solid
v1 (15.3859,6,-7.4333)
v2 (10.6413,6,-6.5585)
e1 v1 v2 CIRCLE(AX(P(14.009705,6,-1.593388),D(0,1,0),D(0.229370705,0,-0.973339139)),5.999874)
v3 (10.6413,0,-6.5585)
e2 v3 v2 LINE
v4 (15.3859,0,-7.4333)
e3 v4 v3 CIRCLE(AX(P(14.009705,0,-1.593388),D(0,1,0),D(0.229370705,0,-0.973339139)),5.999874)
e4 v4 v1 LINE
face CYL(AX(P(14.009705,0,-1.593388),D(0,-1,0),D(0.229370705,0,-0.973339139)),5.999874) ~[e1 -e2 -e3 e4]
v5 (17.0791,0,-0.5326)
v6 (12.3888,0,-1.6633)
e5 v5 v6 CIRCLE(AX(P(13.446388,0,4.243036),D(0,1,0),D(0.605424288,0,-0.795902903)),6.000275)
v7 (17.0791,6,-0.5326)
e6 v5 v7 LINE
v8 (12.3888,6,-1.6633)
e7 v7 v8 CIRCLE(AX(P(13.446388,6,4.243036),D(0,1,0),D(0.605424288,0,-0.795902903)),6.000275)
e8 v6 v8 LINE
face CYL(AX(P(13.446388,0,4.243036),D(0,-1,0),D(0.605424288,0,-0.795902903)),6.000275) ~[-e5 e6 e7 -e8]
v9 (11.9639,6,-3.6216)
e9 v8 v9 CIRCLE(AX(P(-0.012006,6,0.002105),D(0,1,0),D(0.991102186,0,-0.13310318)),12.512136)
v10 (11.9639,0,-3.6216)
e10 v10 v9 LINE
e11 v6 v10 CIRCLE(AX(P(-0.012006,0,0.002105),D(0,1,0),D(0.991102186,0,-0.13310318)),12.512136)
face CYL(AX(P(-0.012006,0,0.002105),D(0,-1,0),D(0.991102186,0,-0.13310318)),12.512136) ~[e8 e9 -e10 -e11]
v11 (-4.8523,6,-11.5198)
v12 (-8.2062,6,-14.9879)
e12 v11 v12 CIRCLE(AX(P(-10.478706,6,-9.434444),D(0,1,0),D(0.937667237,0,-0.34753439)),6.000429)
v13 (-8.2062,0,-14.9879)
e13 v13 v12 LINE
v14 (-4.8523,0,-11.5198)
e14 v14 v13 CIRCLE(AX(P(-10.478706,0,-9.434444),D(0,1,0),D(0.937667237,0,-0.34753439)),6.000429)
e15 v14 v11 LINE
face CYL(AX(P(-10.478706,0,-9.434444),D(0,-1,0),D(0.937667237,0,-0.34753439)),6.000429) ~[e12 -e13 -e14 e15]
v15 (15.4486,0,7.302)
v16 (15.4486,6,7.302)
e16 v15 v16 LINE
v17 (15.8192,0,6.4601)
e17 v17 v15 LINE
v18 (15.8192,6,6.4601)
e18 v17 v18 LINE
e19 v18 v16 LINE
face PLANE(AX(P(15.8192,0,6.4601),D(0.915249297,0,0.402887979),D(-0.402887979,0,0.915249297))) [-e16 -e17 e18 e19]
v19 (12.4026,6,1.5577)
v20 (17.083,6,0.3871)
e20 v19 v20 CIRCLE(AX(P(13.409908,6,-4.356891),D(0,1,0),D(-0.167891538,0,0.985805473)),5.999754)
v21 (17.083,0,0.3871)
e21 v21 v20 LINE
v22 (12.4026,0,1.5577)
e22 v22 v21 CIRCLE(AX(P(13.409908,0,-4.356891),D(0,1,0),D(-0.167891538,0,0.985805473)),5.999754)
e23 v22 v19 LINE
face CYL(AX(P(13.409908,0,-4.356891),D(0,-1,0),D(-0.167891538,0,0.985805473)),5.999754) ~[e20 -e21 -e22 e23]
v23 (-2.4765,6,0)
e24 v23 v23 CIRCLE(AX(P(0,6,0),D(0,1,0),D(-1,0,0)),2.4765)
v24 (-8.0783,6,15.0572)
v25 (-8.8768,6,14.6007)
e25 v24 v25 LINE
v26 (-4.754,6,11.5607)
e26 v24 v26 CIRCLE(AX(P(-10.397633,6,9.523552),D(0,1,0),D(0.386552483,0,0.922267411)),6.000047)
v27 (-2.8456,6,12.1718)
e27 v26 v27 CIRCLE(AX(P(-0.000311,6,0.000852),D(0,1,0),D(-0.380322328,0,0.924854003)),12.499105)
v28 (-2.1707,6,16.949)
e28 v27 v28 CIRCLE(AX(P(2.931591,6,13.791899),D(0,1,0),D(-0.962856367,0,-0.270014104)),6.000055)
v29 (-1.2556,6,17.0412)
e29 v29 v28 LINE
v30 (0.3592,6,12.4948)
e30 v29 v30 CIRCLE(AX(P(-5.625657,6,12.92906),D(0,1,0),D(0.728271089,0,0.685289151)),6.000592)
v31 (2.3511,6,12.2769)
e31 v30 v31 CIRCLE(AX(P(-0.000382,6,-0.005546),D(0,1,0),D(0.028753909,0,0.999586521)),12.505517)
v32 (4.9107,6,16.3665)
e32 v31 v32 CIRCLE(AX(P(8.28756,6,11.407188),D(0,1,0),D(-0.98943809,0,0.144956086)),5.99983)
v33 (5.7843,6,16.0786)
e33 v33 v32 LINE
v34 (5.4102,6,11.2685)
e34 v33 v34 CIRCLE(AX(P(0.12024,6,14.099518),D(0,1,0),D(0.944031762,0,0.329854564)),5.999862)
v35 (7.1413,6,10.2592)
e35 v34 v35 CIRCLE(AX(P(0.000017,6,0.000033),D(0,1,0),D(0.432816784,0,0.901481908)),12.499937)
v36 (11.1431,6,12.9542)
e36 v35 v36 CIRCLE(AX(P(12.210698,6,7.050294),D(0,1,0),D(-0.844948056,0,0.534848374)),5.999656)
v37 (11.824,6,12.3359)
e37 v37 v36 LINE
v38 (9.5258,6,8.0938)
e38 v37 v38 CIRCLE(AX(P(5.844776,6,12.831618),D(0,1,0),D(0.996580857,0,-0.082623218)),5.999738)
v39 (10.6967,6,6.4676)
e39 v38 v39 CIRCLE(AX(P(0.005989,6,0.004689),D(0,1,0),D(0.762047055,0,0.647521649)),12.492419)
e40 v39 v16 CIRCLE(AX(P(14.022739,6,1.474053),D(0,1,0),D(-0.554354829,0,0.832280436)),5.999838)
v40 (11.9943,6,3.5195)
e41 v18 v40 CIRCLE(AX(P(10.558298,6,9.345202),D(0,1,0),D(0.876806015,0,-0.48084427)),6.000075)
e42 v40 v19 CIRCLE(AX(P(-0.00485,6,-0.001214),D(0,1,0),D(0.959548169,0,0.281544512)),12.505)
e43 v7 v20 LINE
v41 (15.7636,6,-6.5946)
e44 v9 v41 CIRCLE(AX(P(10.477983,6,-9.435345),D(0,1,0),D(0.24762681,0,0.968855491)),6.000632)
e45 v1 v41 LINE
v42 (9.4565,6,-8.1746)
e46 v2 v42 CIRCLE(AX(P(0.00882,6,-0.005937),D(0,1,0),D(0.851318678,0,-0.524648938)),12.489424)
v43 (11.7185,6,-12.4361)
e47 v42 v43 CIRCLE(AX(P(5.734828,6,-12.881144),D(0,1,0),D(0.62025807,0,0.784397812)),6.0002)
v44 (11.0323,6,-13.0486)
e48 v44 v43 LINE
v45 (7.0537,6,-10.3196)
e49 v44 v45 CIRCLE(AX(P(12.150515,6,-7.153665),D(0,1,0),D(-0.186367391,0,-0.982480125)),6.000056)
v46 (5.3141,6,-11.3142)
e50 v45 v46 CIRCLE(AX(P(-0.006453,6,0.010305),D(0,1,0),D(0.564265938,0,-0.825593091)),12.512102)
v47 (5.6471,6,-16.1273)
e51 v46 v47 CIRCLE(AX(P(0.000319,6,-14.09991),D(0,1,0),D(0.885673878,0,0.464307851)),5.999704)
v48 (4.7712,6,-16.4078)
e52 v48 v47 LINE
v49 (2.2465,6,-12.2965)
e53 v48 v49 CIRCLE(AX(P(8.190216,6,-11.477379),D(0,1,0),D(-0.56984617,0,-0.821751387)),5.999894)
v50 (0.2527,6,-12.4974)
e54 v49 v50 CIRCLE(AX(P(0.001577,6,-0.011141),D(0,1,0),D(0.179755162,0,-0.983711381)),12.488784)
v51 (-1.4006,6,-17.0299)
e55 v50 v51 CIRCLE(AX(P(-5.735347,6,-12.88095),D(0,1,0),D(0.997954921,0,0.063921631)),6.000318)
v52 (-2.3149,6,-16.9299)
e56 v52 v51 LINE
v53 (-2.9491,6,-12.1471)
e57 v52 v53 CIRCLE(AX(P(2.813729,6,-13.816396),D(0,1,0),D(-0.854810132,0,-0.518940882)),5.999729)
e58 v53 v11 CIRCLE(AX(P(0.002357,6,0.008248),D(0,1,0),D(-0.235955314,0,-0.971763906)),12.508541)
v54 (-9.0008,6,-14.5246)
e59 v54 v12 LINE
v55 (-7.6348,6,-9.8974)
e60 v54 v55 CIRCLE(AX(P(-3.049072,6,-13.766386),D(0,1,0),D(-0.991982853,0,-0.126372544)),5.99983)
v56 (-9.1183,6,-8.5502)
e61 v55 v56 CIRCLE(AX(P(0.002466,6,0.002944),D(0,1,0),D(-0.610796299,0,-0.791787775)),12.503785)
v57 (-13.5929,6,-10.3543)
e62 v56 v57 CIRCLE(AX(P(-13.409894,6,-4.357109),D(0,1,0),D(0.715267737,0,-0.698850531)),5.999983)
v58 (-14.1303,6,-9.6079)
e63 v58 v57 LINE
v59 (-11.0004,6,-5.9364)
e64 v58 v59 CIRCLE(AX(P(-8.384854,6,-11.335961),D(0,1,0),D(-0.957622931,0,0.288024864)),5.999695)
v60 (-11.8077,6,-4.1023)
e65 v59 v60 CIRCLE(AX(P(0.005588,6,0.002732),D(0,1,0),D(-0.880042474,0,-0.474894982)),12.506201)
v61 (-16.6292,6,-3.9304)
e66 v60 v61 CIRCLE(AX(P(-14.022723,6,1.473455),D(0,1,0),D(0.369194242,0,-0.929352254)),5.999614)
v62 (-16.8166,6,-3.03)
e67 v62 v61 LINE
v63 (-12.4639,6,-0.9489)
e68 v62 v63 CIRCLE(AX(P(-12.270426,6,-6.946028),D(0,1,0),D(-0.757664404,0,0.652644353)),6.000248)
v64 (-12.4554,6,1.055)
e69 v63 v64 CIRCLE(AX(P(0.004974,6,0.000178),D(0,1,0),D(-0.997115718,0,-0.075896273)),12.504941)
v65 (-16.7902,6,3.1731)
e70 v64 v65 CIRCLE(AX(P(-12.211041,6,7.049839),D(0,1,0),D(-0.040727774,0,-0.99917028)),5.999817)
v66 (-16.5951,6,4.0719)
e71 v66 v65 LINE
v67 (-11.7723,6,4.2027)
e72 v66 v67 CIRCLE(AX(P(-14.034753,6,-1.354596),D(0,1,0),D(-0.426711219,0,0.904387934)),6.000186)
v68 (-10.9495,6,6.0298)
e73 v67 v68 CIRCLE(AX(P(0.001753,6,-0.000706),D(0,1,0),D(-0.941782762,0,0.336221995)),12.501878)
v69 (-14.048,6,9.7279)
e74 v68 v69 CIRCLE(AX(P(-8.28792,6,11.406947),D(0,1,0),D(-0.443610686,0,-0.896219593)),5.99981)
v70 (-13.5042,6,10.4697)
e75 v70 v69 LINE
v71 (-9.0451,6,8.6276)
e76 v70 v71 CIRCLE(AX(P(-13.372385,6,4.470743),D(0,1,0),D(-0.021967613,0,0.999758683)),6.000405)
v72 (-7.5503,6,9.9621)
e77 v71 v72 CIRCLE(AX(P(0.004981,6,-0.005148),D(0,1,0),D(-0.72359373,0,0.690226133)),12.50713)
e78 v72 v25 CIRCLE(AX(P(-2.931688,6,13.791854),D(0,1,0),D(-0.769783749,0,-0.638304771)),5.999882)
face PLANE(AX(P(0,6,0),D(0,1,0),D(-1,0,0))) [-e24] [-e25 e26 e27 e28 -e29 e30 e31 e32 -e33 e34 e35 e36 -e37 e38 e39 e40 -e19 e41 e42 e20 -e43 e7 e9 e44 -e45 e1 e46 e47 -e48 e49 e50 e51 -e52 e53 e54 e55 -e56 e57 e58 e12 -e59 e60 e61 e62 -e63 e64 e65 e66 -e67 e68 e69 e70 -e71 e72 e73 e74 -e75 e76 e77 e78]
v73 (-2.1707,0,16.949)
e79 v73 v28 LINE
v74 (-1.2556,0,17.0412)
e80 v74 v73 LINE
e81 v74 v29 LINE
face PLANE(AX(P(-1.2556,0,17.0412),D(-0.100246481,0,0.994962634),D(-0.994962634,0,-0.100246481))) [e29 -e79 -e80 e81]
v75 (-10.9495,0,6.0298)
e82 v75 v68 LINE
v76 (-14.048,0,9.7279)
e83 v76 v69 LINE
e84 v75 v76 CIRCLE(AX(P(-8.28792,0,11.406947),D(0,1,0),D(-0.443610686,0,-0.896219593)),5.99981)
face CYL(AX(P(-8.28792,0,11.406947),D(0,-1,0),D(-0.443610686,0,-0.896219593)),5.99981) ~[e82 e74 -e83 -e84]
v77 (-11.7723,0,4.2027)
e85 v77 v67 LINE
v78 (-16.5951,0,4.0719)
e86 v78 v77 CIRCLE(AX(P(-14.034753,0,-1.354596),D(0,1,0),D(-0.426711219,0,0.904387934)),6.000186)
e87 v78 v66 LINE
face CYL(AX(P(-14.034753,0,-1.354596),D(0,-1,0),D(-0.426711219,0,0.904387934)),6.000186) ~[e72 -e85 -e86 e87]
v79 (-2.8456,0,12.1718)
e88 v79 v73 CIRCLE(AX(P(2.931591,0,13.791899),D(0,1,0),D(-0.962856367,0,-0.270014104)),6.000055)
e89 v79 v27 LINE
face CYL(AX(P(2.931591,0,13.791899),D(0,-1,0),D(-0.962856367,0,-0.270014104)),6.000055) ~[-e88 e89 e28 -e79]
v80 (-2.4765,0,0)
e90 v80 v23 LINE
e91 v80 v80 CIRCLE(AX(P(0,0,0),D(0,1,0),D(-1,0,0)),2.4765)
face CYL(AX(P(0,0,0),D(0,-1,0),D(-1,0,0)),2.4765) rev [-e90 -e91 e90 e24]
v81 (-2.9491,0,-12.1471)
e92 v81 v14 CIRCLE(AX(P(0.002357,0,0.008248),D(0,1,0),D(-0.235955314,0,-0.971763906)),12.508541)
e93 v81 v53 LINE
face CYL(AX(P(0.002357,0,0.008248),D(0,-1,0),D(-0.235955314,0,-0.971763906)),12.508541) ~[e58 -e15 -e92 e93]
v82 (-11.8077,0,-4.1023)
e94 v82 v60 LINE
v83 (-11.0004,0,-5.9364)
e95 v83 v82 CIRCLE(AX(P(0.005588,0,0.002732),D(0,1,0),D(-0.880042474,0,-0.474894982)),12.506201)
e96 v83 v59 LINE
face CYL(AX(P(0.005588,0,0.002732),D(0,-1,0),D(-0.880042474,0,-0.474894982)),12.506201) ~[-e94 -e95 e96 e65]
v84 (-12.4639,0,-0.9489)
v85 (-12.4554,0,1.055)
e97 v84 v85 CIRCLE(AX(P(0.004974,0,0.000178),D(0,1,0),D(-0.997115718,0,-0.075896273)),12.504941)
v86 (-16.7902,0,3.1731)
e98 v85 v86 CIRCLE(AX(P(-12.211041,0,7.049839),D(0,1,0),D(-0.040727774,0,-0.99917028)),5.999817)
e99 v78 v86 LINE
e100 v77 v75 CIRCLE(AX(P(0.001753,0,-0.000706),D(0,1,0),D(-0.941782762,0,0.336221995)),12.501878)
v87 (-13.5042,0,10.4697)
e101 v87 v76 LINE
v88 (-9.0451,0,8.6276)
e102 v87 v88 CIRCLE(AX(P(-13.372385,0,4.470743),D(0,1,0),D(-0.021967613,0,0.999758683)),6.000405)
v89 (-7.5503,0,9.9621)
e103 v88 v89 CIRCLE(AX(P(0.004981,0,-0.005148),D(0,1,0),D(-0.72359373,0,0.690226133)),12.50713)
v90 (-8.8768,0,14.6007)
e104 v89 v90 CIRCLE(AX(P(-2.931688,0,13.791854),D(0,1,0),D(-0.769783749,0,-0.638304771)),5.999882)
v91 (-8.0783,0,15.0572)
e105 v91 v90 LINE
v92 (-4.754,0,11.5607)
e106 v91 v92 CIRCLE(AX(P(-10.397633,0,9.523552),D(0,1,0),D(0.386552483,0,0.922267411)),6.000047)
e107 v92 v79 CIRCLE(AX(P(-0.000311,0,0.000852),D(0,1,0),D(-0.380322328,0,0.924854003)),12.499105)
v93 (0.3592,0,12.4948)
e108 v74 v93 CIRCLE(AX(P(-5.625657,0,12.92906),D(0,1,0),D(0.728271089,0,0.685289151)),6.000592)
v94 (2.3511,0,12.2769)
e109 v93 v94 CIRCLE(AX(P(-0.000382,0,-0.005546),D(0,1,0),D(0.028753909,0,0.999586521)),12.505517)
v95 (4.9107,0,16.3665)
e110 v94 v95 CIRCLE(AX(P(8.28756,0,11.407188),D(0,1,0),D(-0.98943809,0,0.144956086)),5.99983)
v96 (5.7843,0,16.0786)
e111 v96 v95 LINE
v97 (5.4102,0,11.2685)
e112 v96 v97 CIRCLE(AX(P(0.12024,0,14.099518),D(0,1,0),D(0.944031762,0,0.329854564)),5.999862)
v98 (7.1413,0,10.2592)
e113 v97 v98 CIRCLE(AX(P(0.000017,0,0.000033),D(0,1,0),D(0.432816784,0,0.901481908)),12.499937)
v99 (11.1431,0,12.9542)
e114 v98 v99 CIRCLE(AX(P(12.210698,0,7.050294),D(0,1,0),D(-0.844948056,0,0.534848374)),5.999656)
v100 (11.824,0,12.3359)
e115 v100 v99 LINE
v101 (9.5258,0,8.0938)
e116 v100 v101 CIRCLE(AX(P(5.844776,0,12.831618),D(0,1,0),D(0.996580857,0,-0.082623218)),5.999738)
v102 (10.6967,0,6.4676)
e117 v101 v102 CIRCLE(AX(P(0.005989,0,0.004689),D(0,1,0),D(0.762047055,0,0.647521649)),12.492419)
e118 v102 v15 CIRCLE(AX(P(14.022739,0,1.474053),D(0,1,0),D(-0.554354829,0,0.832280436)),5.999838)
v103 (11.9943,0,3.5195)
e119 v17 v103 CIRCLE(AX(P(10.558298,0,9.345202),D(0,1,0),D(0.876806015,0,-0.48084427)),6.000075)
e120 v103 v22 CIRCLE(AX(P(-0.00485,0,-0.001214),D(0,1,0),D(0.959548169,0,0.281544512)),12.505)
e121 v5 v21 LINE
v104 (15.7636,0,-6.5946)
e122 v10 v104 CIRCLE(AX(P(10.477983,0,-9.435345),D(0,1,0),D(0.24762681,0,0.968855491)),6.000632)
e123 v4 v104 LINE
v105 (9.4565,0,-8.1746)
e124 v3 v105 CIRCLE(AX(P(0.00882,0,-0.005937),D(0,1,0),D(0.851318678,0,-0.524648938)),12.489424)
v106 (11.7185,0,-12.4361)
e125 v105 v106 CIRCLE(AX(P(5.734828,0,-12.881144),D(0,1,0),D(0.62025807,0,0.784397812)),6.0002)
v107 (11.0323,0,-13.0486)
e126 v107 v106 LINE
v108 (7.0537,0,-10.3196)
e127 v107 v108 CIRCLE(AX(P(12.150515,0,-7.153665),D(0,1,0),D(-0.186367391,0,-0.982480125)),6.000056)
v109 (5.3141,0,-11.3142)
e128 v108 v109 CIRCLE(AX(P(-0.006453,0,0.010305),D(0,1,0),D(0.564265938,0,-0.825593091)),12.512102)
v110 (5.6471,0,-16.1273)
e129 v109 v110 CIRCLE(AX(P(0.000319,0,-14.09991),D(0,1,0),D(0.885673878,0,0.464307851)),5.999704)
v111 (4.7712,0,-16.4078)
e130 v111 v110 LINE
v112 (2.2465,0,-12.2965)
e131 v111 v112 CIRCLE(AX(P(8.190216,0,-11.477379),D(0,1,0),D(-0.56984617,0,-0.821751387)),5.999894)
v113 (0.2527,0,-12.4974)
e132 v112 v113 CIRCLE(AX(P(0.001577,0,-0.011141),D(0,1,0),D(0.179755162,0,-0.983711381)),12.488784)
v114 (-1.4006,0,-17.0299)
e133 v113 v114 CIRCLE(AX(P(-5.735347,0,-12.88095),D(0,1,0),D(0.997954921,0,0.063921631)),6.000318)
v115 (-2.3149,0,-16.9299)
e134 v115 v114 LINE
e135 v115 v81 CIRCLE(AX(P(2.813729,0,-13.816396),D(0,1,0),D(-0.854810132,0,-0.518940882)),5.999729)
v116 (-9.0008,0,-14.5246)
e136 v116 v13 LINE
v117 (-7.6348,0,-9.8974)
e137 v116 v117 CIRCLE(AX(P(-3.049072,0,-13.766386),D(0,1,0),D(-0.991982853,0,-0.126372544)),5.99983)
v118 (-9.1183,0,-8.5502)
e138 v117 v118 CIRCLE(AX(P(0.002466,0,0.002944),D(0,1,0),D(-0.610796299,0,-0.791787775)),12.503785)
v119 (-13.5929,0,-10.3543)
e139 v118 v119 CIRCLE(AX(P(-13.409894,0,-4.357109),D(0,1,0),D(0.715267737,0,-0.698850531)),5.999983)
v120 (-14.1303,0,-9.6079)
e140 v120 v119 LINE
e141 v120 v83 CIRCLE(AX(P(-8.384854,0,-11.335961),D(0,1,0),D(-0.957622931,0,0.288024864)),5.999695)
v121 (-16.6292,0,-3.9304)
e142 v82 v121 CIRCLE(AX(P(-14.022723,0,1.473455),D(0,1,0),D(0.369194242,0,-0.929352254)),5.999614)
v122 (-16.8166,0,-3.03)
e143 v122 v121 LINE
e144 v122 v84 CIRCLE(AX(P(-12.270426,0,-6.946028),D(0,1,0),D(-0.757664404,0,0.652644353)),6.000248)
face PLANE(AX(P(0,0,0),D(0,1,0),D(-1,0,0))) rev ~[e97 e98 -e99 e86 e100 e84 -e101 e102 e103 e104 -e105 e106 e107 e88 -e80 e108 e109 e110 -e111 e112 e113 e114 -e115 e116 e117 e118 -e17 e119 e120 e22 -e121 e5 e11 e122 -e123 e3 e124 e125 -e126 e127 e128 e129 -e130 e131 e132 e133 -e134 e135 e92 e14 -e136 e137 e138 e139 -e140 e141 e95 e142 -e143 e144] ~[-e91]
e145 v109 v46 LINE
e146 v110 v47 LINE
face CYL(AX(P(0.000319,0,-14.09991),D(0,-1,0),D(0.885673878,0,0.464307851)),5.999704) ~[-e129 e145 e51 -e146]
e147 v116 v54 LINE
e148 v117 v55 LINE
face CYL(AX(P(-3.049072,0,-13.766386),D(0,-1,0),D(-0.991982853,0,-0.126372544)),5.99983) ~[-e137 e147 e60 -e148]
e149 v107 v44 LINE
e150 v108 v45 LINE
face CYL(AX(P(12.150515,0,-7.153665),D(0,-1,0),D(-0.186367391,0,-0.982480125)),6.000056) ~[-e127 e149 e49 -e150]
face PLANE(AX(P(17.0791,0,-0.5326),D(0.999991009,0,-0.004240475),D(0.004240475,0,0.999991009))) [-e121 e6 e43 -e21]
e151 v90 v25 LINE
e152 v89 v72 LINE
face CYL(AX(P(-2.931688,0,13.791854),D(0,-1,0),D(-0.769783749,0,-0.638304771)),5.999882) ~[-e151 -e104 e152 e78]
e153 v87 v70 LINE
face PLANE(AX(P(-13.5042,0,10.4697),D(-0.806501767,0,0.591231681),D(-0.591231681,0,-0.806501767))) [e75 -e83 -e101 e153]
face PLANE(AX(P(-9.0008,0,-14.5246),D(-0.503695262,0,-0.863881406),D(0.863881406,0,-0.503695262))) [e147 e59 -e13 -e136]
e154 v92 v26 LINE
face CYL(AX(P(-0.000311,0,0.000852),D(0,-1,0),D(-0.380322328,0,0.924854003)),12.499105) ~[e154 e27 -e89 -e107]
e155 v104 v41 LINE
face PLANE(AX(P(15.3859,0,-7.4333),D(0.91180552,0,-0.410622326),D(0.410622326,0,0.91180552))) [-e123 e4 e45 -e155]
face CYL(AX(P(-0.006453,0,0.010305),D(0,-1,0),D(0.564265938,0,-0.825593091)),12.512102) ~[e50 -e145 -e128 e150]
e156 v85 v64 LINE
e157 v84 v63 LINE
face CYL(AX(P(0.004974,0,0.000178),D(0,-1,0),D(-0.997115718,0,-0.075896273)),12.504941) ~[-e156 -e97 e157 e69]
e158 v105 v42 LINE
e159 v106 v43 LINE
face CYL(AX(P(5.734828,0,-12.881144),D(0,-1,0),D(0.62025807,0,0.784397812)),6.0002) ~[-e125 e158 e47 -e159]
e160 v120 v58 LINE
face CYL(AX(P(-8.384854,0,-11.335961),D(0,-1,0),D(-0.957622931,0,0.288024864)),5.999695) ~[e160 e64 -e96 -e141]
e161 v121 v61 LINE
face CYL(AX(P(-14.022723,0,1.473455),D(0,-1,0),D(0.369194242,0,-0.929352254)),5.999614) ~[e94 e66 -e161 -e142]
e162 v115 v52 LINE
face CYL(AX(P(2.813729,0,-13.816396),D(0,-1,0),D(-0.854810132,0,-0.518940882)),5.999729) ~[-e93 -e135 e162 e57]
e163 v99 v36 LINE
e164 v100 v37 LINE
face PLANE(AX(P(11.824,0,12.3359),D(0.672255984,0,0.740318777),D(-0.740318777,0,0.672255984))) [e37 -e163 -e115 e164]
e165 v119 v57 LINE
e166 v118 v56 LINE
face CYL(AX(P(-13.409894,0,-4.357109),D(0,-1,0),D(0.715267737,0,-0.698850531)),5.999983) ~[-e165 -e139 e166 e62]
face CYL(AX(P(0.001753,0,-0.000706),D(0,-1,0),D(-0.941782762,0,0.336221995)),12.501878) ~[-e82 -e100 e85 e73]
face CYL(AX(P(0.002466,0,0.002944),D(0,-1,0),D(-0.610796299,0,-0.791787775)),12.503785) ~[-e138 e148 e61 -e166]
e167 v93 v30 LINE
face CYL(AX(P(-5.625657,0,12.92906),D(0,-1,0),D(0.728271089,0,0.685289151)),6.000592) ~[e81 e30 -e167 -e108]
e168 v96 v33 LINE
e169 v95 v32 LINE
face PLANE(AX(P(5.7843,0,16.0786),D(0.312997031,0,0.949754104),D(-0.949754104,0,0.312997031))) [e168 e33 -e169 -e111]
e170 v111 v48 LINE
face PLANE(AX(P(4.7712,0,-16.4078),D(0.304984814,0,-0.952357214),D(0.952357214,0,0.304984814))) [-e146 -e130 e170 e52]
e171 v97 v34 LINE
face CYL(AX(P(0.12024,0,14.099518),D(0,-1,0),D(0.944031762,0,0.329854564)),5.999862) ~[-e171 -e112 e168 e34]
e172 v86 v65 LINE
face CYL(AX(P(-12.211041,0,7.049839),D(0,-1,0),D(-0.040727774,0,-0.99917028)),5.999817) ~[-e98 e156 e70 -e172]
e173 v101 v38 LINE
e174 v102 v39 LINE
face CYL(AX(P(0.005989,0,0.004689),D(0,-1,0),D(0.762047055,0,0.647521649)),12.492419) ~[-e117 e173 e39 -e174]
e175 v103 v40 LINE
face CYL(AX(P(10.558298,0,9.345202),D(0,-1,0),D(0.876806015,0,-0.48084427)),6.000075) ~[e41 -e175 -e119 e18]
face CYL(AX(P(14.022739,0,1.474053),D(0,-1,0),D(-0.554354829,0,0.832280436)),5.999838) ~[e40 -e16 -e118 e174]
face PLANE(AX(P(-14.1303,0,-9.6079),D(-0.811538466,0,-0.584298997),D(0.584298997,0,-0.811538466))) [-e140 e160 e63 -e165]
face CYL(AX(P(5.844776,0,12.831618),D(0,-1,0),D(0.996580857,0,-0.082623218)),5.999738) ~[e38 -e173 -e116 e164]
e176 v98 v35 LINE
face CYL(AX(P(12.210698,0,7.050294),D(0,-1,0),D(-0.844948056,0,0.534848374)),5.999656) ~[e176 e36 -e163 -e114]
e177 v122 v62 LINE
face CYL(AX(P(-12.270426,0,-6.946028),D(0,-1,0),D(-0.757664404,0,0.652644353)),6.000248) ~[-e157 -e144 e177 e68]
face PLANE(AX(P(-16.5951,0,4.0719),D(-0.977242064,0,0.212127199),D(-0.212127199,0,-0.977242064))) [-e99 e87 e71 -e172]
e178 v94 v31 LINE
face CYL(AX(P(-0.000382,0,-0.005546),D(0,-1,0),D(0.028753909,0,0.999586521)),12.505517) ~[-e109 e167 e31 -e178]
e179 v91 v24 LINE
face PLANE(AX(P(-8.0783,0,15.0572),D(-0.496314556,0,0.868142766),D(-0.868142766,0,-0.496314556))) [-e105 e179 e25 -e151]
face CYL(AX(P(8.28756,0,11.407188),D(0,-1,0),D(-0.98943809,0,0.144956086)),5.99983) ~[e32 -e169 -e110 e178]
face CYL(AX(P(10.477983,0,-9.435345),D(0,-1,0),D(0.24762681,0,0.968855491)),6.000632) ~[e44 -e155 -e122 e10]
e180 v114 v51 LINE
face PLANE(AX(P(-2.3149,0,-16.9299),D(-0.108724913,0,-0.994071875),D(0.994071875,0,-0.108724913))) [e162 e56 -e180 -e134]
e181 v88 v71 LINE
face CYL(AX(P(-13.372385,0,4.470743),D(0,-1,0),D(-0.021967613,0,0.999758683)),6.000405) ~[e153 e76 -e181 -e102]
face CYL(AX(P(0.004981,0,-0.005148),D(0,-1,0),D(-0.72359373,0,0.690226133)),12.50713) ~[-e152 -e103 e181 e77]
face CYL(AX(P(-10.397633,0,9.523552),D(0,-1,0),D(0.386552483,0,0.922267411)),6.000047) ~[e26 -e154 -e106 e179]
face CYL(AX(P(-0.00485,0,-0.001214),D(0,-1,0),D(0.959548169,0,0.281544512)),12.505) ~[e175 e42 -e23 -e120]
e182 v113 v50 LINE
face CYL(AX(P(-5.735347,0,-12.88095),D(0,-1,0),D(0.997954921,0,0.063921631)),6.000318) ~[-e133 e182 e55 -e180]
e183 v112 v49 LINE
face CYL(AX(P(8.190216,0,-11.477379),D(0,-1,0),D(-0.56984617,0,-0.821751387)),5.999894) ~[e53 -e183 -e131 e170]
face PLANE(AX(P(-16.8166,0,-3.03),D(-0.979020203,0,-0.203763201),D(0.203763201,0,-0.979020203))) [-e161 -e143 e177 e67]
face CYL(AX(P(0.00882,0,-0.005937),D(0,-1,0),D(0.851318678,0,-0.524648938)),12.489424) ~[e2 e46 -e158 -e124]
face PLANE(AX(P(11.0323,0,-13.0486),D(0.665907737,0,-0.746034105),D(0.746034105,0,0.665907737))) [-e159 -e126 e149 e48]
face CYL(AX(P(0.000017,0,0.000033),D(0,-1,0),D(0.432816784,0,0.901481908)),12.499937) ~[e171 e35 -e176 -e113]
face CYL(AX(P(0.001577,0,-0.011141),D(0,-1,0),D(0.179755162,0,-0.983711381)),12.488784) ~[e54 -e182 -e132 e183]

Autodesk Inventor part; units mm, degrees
ref_plane "YZ Plane" through (0, 0, 0) normal (1, 0, 0) x (0, 1, 0)
ref_plane "XZ Plane" through (0, 0, 0) normal (0, 1, 0) x (-1, 0, 0)
ref_plane "XY Plane" through (0, 0, 0) normal (0, 0, 1) x (1, 0, 0)
sketch "Sketch1" plane through (0, 0, 0) normal (0, 1, 0) x (-1, 0, 0)
  circle A0 centre (0, 0) radius 2.4765
  circle A1 centre (-8.1903, -11.4773) radius 6 construction
  circle A2 centre (0, -14.1) radius 6 construction
  line L0 (0, -14.1) -> (-8.1903, -11.4773) construction
  circle A3 centre (-8.1903, -11.4773) radius 5.3 construction
  circle A4 centre (0, -14.1) radius 5.3 construction
  line L1 (-4.7712, -16.4078) -> (-5.6471, -16.1273)
  circle A5 centre (0, 0) radius 12.5 construction
  line L2 (-8.1903, -11.4773) -> (0, 0) construction
  arc A6 (-4.7712, -16.4078) -> (-2.2465, -12.2965) centre (-8.1903, -11.4773) ccw
  arc A7 (-5.3141, -11.3142) -> (-5.6471, -16.1273) centre (0, -14.1) ccw
  line L3 (2.3149, -16.9299) -> (1.4006, -17.0299)
  arc A8 (2.3149, -16.9299) -> (2.9491, -12.1471) centre (-2.814, -13.8163) ccw
  arc A9 (-0.2527, -12.4974) -> (1.4006, -17.0299) centre (5.735, -12.881) ccw
  line L4 (9.0008, -14.5246) -> (8.2062, -14.9879)
  arc A10 (9.0008, -14.5246) -> (7.6348, -9.8974) centre (3.0489, -13.7664) ccw
  arc A11 (4.8523, -11.5198) -> (8.2062, -14.9879) centre (10.4783, -9.4347) ccw
  line L5 (14.1303, -9.6079) -> (13.5929, -10.3543)
  arc A12 (14.1303, -9.6079) -> (11.0004, -5.9364) centre (8.3846, -11.3361) ccw
  arc A13 (9.1183, -8.5502) -> (13.5929, -10.3543) centre (13.4099, -4.3571) ccw
  line L6 (16.8166, -3.03) -> (16.6292, -3.9304)
  arc A14 (16.8166, -3.03) -> (12.4639, -0.9489) centre (12.2706, -6.9458) ccw
  arc A15 (11.8077, -4.1023) -> (16.6292, -3.9304) centre (14.0228, 1.4739) ccw
  line L7 (16.5951, 4.0719) -> (16.7902, 3.1731)
  arc A16 (16.5951, 4.0719) -> (11.7723, 4.2027) centre (14.0348, -1.3544) ccw
  arc A17 (12.4554, 1.055) -> (16.7902, 3.1731) centre (12.211, 7.05) ccw
  line L8 (13.5042, 10.4697) -> (14.048, 9.7279)
  arc A18 (13.5042, 10.4697) -> (9.0451, 8.6276) centre (13.3723, 4.4712) ccw
  arc A19 (10.9495, 6.0298) -> (14.048, 9.7279) centre (8.2878, 11.4071) ccw
  line L9 (8.0783, 15.0572) -> (8.8768, 14.6007)
  arc A20 (8.0783, 15.0572) -> (4.754, 11.5607) centre (10.3976, 9.5236) ccw
  arc A21 (7.5503, 9.9621) -> (8.8768, 14.6007) centre (2.9316, 13.7919) ccw
  line L10 (1.2556, 17.0412) -> (2.1707, 16.949)
  arc A22 (1.2556, 17.0412) -> (-0.3592, 12.4948) centre (5.6251, 12.9294) ccw
  arc A23 (2.8456, 12.1718) -> (2.1707, 16.949) centre (-2.9316, 13.7919) ccw
  line L11 (-5.7843, 16.0786) -> (-4.9107, 16.3665)
  arc A24 (-5.7843, 16.0786) -> (-5.4102, 11.2685) centre (-0.1201, 14.0995) ccw
  arc A25 (-2.3511, 12.2769) -> (-4.9107, 16.3665) centre (-8.2878, 11.4071) ccw
  line L12 (-11.824, 12.3359) -> (-11.1431, 12.9542)
  arc A26 (-11.824, 12.3359) -> (-9.5258, 8.0938) centre (-5.8445, 12.8317) ccw
  arc A27 (-7.1413, 10.2592) -> (-11.1431, 12.9542) centre (-12.211, 7.05) ccw
  line L13 (-15.8192, 6.4601) -> (-15.4486, 7.302)
  arc A28 (-15.8192, 6.4601) -> (-11.9943, 3.5195) centre (-10.5583, 9.3452) ccw
  arc A29 (-10.6967, 6.4676) -> (-15.4486, 7.302) centre (-14.0228, 1.4739) ccw
  line L14 (-17.0791, -0.5326) -> (-17.083, 0.3871)
  arc A30 (-17.0791, -0.5326) -> (-12.3888, -1.6633) centre (-13.4465, 4.2428) ccw
  arc A31 (-12.4026, 1.5577) -> (-17.083, 0.3871) centre (-13.4099, -4.3571) ccw
  line L15 (-15.3859, -7.4333) -> (-15.7636, -6.5946)
  arc A32 (-15.3859, -7.4333) -> (-10.6413, -6.5585) centre (-14.0097, -1.5932) ccw
  arc A33 (-11.9639, -3.6216) -> (-15.7636, -6.5946) centre (-10.4783, -9.4347) ccw
  arc A34 (-2.2465, -12.2965) -> (-0.2527, -12.4974) centre (0, 0) ccw
  arc A35 (2.9491, -12.1471) -> (4.8523, -11.5198) centre (0, 0) ccw
  arc A36 (7.6348, -9.8974) -> (9.1183, -8.5502) centre (0, 0) ccw
  arc A37 (11.0004, -5.9364) -> (11.8077, -4.1023) centre (0, 0) ccw
  arc A38 (12.4639, -0.9489) -> (12.4554, 1.055) centre (0, 0) ccw
  arc A39 (11.7723, 4.2027) -> (10.9495, 6.0298) centre (0, 0) ccw
  arc A40 (9.0451, 8.6276) -> (7.5503, 9.9621) centre (0, 0) ccw
  arc A41 (4.754, 11.5607) -> (2.8456, 12.1718) centre (0, 0) ccw
  arc A42 (-0.3592, 12.4948) -> (-2.3511, 12.2769) centre (0, 0) ccw
  arc A43 (-5.4102, 11.2685) -> (-7.1413, 10.2592) centre (0, 0) ccw
  arc A44 (-9.5258, 8.0938) -> (-10.6967, 6.4676) centre (0, 0) ccw
  arc A45 (-11.9943, 3.5195) -> (-12.4026, 1.5577) centre (0, 0) ccw
  arc A46 (-12.3888, -1.6633) -> (-11.9639, -3.6216) centre (0, 0) ccw
  arc A47 (-10.6413, -6.5585) -> (-9.4565, -8.1746) centre (0, 0) ccw
  line L16 (-11.0323, -13.0486) -> (-11.7185, -12.4361)
  arc A48 (-11.0323, -13.0486) -> (-7.0537, -10.3196) centre (-12.1505, -7.1537) ccw
  arc A49 (-9.4565, -8.1746) -> (-11.7185, -12.4361) centre (-5.735, -12.881) ccw
  arc A50 (-7.0537, -10.3196) -> (-5.3141, -11.3142) centre (0, 0) ccw
  point P0 (4.8523, -11.5198)
  point P1 (9.1183, -8.5502)
  point P2 (11.8077, -4.1023)
  point P3 (12.4554, 1.055)
  point P4 (10.9495, 6.0298)
  point P5 (7.5503, 9.9621)
  point P6 (2.8456, 12.1718)
  point P7 (-2.3511, 12.2769)
  point P8 (-7.1413, 10.2592)
  point P9 (-10.6967, 6.4676)
  point P10 (-12.4026, 1.5577)
  point P11 (-11.9639, -3.6216)
  point P12 (-9.4565, -8.1746)
  point P13 (-2.2465, -12.2965)
  point P14 (-0.2527, -12.4974)
  point P15 (2.9491, -12.1471)
  point P16 (4.8523, -11.5198)
  point P17 (7.6348, -9.8974)
  point P18 (9.1183, -8.5502)
  point P19 (11.0004, -5.9364)
  point P20 (11.8077, -4.1023)
  point P21 (12.4639, -0.9489)
  point P22 (12.4554, 1.055)
  point P23 (11.7723, 4.2027)
  point P24 (10.9495, 6.0298)
  point P25 (9.0451, 8.6276)
  point P26 (7.5503, 9.9621)
  point P27 (4.754, 11.5607)
  point P28 (2.8456, 12.1718)
  point P29 (-0.3592, 12.4948)
  point P30 (-2.3511, 12.2769)
  point P31 (-5.4102, 11.2685)
  point P32 (-7.1413, 10.2592)
  point P33 (-9.5258, 8.0938)
  point P34 (-10.6967, 6.4676)
  point P35 (-11.9943, 3.5195)
  point P36 (-12.4026, 1.5577)
  point P37 (-12.3888, -1.6633)
  point P38 (-11.9639, -3.6216)
  point P39 (-10.6413, -6.5585)
  point P40 (-5.3141, -11.3142)
  point P41 (-9.4565, -8.1746)
  point P42 (-7.0537, -10.3196)
  dimension "d3" = 10.6
  dimension "d0" = 4.953
  dimension "d1" = 12
  dimension "d2" = 8.6
  dimension "d4" = 25
  dimension "d5" = 14.1
  dimension "d6" = 14.1
  dimension "d9" = 360
  dimension "d13" = 360
extrude "Extrusion1" add sketch "Sketch1" along normal blind 6
properties part number "Gear_3DPrint"
